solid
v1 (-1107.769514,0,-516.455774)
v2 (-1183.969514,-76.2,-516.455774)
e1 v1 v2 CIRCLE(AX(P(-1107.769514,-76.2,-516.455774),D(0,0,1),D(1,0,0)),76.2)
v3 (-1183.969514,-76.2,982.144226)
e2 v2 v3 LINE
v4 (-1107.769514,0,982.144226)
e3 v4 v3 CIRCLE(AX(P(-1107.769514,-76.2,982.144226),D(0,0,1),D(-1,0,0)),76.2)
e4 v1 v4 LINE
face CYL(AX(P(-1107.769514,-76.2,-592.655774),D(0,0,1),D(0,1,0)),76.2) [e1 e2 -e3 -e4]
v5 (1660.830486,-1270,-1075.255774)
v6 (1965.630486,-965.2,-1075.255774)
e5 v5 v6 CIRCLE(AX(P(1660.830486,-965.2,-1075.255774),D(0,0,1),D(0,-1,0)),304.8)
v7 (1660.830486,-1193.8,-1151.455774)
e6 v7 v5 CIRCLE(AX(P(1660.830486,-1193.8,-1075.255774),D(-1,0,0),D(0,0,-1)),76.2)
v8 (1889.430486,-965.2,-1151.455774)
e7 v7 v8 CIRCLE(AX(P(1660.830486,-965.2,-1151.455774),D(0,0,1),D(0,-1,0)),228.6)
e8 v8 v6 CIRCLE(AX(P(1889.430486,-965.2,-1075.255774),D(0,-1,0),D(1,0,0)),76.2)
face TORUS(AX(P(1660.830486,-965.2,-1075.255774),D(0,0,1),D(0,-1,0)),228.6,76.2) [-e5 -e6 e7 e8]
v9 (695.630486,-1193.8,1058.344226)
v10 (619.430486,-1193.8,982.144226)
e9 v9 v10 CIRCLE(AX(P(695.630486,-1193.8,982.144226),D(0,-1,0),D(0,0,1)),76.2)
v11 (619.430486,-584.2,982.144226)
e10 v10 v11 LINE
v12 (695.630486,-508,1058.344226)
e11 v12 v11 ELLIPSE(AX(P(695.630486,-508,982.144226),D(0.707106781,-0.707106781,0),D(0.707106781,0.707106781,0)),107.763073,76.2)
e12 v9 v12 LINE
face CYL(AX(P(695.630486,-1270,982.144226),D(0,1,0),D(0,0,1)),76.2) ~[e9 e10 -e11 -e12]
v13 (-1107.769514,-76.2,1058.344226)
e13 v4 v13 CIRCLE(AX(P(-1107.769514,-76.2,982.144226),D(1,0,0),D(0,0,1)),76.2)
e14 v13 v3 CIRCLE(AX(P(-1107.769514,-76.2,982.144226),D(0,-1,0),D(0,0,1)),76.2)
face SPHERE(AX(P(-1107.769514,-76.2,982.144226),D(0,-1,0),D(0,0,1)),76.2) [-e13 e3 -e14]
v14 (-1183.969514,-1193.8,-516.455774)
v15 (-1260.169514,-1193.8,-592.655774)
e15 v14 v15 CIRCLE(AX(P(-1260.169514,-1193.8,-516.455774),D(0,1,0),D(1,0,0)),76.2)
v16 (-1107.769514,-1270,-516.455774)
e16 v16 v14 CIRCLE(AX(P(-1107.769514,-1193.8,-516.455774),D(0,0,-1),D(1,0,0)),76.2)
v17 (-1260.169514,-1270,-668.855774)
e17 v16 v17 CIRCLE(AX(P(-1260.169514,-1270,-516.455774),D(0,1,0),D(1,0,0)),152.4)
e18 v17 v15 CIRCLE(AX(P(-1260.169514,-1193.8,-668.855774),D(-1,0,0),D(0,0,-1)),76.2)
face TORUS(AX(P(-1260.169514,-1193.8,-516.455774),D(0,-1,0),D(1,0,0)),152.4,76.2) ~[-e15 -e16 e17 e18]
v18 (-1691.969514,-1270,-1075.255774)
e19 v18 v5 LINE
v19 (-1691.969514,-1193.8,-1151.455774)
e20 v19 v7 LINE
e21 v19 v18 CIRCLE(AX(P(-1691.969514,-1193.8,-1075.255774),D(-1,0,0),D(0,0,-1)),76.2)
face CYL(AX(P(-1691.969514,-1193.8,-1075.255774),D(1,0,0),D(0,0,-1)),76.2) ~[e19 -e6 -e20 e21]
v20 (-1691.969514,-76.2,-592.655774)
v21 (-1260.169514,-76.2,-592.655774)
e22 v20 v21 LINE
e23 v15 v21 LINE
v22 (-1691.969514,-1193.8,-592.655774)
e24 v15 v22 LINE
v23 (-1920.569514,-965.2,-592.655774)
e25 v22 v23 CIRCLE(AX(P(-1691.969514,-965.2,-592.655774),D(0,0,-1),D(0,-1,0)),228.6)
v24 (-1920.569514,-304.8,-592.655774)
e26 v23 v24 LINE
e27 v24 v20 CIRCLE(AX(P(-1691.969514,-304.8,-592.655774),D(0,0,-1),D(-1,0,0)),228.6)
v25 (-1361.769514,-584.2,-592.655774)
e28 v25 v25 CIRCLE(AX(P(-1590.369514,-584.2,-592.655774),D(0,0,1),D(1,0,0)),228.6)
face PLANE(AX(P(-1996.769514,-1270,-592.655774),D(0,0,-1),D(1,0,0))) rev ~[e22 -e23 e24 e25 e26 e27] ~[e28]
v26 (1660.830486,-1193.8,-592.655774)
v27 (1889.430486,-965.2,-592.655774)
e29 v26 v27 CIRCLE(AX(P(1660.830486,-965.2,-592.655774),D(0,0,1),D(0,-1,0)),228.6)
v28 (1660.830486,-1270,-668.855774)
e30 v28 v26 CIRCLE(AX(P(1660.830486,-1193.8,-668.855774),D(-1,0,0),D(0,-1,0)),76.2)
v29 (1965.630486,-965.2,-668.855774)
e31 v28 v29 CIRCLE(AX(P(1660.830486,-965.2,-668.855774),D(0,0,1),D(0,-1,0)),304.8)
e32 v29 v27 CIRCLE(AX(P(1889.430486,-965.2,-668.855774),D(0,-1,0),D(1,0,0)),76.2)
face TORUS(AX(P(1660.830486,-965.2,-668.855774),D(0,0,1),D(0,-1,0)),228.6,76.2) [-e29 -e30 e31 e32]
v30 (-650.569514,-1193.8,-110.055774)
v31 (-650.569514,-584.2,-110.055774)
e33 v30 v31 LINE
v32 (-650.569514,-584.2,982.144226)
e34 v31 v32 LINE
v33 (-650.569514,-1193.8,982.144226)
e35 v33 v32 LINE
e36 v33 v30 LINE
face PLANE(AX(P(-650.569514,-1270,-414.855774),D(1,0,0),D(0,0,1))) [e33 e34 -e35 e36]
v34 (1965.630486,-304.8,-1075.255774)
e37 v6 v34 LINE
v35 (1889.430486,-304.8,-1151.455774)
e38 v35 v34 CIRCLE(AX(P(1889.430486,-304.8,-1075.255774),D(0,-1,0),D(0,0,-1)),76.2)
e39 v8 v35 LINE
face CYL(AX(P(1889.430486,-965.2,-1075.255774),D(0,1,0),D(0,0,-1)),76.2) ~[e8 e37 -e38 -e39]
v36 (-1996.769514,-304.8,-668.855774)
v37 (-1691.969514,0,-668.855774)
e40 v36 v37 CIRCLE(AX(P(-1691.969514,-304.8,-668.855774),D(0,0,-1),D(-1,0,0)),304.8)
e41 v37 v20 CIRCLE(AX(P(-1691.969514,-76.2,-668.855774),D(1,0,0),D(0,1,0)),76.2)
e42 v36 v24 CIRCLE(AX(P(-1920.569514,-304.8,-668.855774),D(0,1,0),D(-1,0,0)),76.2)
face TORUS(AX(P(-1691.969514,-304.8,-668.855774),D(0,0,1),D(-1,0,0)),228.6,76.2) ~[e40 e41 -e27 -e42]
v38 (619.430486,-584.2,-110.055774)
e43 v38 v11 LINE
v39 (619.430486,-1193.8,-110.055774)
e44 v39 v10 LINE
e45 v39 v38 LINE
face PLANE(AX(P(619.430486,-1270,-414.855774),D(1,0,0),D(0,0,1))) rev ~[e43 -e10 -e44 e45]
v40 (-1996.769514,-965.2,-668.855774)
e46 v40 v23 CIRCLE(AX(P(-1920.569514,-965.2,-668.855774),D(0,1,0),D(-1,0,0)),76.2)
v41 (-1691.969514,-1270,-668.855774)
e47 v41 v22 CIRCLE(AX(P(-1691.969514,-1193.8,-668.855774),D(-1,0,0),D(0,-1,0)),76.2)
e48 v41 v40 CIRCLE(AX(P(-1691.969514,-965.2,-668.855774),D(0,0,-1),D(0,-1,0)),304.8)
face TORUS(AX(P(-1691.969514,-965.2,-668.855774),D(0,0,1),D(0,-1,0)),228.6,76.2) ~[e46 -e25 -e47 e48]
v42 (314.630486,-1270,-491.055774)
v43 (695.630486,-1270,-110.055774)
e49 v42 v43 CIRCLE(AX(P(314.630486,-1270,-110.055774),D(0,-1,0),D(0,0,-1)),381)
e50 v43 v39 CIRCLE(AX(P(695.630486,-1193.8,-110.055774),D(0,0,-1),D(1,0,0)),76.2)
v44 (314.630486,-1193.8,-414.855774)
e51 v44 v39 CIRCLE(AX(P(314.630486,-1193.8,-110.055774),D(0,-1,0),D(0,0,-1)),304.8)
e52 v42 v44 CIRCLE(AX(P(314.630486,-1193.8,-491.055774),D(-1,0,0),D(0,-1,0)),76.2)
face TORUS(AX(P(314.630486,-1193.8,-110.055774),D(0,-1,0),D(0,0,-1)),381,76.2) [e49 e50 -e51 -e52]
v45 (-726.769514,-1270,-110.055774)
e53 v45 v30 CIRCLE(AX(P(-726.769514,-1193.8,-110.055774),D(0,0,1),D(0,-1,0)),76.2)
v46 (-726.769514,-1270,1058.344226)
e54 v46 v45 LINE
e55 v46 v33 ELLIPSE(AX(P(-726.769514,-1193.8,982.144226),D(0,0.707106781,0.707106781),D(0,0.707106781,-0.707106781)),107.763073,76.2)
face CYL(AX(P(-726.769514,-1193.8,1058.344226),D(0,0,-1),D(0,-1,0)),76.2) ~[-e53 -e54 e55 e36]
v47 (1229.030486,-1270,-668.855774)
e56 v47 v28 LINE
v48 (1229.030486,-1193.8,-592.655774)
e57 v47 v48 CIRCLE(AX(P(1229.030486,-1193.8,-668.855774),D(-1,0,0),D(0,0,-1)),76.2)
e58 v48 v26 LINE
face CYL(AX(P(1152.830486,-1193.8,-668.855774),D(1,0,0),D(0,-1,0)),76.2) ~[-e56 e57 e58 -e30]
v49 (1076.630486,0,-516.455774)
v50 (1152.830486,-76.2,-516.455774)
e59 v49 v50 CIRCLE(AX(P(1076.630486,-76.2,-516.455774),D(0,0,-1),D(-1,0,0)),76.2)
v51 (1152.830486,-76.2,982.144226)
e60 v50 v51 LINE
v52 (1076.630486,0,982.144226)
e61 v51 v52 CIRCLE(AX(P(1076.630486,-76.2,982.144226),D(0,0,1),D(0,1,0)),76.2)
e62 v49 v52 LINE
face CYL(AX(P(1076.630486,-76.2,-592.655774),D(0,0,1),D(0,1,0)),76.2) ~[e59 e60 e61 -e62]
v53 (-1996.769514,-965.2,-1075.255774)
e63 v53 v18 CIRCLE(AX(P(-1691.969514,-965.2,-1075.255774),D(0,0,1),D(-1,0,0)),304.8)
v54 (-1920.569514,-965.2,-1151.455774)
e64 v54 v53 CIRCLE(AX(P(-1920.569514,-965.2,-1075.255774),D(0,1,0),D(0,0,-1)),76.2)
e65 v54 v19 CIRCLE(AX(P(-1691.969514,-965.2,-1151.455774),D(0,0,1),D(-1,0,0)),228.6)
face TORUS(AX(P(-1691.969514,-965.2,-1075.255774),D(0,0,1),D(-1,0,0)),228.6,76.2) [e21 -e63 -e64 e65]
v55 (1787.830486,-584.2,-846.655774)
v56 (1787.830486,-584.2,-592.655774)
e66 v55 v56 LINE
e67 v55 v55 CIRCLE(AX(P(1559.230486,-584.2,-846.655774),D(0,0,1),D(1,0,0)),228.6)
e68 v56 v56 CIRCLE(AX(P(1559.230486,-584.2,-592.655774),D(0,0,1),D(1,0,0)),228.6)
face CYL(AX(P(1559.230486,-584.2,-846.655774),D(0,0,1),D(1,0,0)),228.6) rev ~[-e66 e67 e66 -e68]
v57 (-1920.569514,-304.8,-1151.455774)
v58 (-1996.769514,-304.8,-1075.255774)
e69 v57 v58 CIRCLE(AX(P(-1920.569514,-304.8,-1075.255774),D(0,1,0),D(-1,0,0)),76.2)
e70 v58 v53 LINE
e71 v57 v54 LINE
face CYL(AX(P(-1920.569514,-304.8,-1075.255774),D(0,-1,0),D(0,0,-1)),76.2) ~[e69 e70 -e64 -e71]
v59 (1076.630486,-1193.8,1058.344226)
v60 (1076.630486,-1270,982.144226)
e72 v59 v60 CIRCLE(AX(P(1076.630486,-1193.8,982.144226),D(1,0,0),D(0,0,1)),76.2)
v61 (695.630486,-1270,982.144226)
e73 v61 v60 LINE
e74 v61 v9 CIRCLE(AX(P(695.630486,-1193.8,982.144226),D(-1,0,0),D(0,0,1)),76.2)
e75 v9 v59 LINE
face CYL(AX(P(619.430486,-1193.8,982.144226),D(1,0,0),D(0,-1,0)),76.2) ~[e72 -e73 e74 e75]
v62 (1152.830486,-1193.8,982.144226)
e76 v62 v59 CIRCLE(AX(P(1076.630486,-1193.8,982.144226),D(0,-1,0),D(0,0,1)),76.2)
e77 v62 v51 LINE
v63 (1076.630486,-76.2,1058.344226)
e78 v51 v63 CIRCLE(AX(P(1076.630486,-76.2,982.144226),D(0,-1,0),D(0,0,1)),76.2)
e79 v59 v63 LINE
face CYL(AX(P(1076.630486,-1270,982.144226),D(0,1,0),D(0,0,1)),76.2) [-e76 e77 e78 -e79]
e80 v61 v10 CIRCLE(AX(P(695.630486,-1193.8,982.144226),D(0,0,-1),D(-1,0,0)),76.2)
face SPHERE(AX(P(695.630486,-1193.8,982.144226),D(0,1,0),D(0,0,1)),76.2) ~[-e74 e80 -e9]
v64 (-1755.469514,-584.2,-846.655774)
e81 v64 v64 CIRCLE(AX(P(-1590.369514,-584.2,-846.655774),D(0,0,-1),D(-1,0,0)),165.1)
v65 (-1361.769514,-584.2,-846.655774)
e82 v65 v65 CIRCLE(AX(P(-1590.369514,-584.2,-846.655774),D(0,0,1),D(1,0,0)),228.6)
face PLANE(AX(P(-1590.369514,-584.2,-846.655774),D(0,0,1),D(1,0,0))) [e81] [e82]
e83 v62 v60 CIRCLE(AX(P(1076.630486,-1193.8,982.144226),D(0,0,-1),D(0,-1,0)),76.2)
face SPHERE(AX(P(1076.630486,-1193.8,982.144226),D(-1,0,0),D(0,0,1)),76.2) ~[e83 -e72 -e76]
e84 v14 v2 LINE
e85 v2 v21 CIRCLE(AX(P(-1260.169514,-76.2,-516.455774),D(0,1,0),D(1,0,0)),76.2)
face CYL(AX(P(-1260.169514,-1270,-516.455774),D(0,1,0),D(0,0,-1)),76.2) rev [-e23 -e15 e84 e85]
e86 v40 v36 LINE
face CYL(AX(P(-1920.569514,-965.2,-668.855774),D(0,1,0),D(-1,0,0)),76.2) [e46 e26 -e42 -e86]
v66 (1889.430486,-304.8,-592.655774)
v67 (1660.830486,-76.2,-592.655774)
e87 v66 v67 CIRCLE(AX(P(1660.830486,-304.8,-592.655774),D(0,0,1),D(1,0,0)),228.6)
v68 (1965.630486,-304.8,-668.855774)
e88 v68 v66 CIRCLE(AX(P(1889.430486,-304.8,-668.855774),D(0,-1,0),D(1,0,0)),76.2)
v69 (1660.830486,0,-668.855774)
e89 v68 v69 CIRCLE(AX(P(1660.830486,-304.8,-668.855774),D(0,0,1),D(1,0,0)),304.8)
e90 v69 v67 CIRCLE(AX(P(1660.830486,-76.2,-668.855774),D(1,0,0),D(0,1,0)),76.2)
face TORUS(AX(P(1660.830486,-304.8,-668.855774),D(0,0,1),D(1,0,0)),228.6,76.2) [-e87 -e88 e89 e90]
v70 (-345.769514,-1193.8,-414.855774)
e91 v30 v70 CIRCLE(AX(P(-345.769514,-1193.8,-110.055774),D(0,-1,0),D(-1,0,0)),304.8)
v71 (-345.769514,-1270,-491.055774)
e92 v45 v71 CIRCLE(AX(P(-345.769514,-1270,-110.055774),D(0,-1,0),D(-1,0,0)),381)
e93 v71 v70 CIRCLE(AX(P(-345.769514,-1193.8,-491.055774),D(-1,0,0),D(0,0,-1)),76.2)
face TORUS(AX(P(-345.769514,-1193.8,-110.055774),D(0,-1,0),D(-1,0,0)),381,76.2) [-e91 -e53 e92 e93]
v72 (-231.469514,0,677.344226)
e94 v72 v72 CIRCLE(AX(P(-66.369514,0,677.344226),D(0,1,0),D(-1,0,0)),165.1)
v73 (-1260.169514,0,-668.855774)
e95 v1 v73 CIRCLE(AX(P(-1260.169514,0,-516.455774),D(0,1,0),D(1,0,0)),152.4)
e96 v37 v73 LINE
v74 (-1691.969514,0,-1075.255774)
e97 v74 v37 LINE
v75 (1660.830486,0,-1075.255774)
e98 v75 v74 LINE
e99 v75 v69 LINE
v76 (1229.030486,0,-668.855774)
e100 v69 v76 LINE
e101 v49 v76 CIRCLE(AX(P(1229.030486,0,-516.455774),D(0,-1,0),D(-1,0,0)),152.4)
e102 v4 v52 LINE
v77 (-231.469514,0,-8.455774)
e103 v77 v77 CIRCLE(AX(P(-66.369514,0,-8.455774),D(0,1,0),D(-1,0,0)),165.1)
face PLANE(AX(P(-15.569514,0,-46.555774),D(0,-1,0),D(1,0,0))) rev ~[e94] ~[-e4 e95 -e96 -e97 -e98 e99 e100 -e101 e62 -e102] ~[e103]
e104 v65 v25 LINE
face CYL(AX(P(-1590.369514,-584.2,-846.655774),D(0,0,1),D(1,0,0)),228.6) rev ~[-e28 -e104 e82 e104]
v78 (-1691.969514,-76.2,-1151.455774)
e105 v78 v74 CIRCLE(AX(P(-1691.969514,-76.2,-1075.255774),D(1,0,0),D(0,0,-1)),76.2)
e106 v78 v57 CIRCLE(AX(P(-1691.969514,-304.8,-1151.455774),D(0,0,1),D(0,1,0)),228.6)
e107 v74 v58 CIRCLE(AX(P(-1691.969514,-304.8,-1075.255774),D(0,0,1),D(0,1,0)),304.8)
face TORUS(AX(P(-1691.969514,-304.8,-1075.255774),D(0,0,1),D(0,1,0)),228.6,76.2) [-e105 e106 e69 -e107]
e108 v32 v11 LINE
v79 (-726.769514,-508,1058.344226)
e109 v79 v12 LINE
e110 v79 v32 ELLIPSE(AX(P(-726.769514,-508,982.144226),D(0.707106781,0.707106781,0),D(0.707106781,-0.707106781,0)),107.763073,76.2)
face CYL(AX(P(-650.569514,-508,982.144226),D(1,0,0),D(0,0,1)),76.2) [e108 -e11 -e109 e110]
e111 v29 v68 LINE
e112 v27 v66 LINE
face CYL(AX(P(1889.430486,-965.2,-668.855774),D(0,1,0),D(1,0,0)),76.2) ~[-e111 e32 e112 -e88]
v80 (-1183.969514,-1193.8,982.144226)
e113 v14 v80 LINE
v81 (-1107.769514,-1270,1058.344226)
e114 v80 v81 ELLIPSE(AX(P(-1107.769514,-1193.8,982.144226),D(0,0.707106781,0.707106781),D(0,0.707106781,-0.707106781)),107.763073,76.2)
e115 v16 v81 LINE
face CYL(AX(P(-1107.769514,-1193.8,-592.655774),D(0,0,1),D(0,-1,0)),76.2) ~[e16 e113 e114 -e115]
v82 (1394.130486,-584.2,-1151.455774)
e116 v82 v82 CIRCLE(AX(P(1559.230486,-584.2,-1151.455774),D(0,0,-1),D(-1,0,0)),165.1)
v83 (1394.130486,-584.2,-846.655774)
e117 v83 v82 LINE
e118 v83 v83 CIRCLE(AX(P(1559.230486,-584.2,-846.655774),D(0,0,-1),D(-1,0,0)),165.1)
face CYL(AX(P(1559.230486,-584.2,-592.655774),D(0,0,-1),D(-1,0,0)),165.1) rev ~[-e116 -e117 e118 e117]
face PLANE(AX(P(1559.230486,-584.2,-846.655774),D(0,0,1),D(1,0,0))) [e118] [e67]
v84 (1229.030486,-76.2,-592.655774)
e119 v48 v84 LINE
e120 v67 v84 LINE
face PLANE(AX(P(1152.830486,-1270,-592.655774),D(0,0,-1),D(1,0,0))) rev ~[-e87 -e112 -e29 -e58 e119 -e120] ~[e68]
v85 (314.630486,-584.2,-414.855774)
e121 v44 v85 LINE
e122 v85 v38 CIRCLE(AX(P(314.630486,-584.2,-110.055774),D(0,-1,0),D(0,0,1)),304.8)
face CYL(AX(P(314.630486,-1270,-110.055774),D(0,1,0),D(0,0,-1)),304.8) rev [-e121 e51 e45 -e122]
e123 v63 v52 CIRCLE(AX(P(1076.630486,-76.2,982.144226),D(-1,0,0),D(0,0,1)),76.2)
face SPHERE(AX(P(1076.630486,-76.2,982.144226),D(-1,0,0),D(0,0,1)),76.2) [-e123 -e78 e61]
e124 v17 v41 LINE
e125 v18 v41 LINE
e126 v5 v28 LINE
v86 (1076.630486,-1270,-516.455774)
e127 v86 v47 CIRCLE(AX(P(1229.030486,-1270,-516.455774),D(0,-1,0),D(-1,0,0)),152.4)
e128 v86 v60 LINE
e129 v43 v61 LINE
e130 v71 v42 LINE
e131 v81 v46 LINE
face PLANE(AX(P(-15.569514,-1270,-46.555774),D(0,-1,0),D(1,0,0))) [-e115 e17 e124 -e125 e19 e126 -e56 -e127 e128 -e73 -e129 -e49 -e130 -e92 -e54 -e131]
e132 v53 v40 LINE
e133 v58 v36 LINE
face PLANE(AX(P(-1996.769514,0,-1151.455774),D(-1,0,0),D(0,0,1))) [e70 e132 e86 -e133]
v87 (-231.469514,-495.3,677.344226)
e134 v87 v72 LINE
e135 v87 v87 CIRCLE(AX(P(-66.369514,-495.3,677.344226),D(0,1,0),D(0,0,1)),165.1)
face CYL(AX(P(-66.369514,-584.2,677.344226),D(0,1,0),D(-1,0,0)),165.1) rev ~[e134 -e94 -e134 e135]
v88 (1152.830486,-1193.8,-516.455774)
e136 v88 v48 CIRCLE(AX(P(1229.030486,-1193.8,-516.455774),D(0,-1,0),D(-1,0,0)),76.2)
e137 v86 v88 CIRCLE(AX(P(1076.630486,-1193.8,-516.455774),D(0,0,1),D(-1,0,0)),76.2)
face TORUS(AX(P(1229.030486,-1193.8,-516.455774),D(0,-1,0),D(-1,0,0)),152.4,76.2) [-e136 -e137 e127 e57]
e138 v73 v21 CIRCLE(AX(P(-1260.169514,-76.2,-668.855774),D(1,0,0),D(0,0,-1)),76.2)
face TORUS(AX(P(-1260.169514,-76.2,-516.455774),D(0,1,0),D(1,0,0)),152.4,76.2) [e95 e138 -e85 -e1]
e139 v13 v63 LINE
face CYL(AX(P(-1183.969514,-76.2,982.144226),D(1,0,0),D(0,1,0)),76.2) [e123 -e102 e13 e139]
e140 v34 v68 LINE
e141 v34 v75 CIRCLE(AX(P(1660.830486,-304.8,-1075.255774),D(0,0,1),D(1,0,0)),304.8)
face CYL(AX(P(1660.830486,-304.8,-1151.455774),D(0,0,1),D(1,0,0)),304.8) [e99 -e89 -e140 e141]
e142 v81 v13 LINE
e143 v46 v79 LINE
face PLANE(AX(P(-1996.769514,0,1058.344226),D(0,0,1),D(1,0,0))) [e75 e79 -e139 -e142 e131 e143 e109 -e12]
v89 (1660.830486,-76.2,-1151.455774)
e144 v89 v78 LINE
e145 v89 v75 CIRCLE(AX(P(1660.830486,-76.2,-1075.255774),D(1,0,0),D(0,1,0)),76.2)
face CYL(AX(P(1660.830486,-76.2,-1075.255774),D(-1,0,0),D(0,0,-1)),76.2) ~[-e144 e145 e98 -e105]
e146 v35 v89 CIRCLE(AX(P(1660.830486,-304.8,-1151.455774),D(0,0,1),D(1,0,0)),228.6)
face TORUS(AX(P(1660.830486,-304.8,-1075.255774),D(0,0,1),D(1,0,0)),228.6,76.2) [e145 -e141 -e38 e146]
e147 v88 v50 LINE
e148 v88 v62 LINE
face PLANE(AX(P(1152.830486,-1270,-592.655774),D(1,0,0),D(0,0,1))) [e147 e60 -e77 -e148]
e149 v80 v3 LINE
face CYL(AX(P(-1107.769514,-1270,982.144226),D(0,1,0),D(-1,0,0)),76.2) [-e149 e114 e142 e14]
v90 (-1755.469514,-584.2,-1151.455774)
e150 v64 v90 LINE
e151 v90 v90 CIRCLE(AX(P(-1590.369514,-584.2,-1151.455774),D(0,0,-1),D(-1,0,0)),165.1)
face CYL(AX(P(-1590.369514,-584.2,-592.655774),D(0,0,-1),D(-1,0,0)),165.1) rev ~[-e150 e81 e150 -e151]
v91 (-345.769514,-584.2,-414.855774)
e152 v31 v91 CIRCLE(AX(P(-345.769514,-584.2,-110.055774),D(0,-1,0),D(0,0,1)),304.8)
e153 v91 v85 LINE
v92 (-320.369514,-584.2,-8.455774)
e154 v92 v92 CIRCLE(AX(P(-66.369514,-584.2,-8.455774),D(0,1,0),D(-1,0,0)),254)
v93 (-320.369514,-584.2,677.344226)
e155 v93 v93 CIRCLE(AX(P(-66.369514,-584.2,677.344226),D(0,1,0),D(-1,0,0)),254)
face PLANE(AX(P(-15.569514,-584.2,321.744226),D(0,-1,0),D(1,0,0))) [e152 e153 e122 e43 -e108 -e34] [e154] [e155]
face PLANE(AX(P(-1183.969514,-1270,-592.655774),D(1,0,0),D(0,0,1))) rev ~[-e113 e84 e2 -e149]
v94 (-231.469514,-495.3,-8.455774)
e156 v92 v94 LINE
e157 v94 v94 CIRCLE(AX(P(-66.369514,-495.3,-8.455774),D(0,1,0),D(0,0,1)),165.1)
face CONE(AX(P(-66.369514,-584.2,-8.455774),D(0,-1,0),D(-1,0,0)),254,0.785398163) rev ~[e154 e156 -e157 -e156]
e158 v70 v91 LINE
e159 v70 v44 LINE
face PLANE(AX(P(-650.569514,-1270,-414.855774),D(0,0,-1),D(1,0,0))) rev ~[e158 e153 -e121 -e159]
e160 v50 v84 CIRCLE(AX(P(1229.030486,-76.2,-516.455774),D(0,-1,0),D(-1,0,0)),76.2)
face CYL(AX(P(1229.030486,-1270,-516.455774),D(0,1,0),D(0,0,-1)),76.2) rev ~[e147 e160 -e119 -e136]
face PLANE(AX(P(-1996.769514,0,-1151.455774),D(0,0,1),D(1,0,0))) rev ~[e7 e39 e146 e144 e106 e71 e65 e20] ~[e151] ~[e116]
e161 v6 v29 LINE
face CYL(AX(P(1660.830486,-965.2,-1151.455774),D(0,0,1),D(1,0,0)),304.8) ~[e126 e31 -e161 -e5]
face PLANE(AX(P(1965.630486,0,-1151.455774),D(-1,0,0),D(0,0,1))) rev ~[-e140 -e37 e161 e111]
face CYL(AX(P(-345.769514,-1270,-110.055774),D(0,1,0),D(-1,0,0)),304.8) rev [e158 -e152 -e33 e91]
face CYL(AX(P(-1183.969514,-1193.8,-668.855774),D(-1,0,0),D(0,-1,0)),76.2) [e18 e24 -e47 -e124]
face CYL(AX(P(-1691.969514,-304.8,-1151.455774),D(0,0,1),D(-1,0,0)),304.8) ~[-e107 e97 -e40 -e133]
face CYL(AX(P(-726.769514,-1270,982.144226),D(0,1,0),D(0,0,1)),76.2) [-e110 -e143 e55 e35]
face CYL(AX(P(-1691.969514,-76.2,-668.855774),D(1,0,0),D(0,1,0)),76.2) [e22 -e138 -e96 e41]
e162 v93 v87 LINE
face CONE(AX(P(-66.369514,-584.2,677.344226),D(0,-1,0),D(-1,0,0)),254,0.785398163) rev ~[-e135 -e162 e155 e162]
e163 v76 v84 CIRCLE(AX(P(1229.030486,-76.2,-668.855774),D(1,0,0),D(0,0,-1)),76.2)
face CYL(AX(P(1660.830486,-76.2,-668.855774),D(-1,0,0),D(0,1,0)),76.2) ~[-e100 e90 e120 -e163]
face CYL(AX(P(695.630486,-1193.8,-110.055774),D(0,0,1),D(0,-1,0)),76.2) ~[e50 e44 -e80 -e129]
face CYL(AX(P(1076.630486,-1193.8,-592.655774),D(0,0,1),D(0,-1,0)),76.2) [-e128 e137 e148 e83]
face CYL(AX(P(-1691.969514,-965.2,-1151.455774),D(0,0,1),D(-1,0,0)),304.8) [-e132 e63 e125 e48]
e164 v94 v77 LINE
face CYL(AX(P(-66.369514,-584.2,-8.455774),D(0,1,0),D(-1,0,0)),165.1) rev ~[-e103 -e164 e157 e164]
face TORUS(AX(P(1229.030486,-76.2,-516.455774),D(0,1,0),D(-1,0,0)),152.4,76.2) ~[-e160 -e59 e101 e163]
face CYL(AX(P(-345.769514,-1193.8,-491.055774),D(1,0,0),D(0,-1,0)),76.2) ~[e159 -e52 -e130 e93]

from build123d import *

# Parameters (mm, degrees)
F0_W            = 3962.4
F0_H            = 2209.8
F1_DEPTH        = 1270
F2_W            = 812.8
F2_H            = 1651
F3_DEPTH        = 1270
F4_W            = 1270
F4_H            = 1473.2
F5_DEPTH        = 685.8
F7_D            = 330.2
F7_CBORE_D      = 457.2
F7_CBORE_DEPTH  = 254
F9_D            = 330.2
F9_CBORE_D      = 457.2
F9_CBORE_DEPTH  = 254
F11_D           = 330.2
F11_CSINK_D     = 508
F11_CSINK_ANGLE = 90
F12_R           = 304.8
F13_R           = 76.2


with BuildPart() as f1:
    # F0 (on Front) → F1 (new body)
    with BuildSketch(Plane.XZ):
        with Locations((-15.5695136636, -46.555774383)):
            Rectangle(F0_W, F0_H)
    extrude(amount=F1_DEPTH)

    # F2 (on face) → F3 (cut)
    with BuildSketch(Plane.XZ.offset(1270)):
        with Locations((-1590.3695136636, 232.844225617)):
            Rectangle(F2_W, F2_H)
        with Locations((1559.2304863364, 232.844225617)):
            Rectangle(F2_W, F2_H)
    extrude(amount=-F3_DEPTH, mode=Mode.SUBTRACT)

    # F4 (on face) → F5 (cut)
    with BuildSketch(Plane.XZ.offset(1270)):
        with Locations((-15.5695136636, 321.744225617)):
            Rectangle(F4_W, F4_H)
    extrude(amount=-F5_DEPTH, mode=Mode.SUBTRACT)

    # F7 (through all)
    with Locations(Plane.XY.offset(-592.655774383)):
        with Locations((1559.2304863364, -584.2)):
            CounterBoreHole(F7_D / 2, F7_CBORE_D / 2, F7_CBORE_DEPTH)

    # F9 (through all)
    with Locations(Plane.XY.offset(-592.655774383)):
        with Locations((-1590.3695136636, -584.2)):
            CounterBoreHole(F9_D / 2, F9_CBORE_D / 2, F9_CBORE_DEPTH)

    # F11 (through all)
    with Locations(Plane.XZ.offset(584.2)):
        with Locations((-66.3695136636, 677.344225617), (-66.3695136636, -8.455774383)):
            CounterSinkHole(F11_D / 2, F11_CSINK_D / 2, counter_sink_angle=F11_CSINK_ANGLE)

    # F12
    f12_edges = [f1.edges().sort_by_distance(p)[0] for p in [
        (-1996.769514, -1270, -872.055774),
        (1965.630486, -1270, -872.055774),
        (1965.630486, 0, -872.055774),
        (-650.569514, -927.1, -414.855774),
        (619.430486, -927.1, -414.855774),
        (-1996.769514, 0, -872.055774),
    ]]
    fillet(f12_edges, radius=F12_R)

    # F13
    f13_edges = [f1.edges().sort_by_distance(p)[0] for p in [
        (-1183.969514, -635, 1058.344226),
        (-15.569514, 0, 1058.344226),
        (-15.569514, -584.2, 1058.344226),
        (619.430486, -927.1, 1058.344226),
        (-650.569514, -927.1, 1058.344226),
        (886.130486, -1270, 1058.344226),
        (1152.830486, -635, 1058.344226),
        (-1996.769514, -635, -592.655774),
        (-1907.495661, -89.273853, -592.655774),
        (-1437.969514, 0, -592.655774),
        (-1907.495661, -1180.726147, -592.655774),
        (-1437.969514, -1270, -592.655774),
        (-1183.969514, -635, -592.655774),
        (-15.569514, -1270, -1151.455774),
        (-1907.495661, -1180.726147, -1151.455774),
        (-1996.769514, -635, -1151.455774),
        (-1907.495661, -89.273853, -1151.455774),
        (619.430486, -1270, 474.144226),
        (530.156633, -1270, -325.581921),
        (-15.569514, -1270, -414.855774),
        (-561.295661, -1270, -325.581921),
        (-650.569514, -1270, 474.144226),
        (1152.830486, -1270, 232.844226),
        (-1183.969514, -1270, 232.844226),
        (-1183.969514, 0, 232.844226),
        (1406.830486, -1270, -592.655774),
        (1876.356633, -1180.726147, -592.655774),
        (1965.630486, -635, -592.655774),
        (1152.830486, -635, -592.655774),
        (1152.830486, 0, 232.844226),
        (1406.830486, 0, -592.655774),
        (1876.356633, -89.273853, -592.655774),
        (1965.630486, -635, -1151.455774),
        (1876.356633, -1180.726147, -1151.455774),
        (1876.356633, -89.273853, -1151.455774),
        (-15.569514, 0, -1151.455774),
    ]]
    fillet(f13_edges, radius=F13_R)


solid = f1.part
